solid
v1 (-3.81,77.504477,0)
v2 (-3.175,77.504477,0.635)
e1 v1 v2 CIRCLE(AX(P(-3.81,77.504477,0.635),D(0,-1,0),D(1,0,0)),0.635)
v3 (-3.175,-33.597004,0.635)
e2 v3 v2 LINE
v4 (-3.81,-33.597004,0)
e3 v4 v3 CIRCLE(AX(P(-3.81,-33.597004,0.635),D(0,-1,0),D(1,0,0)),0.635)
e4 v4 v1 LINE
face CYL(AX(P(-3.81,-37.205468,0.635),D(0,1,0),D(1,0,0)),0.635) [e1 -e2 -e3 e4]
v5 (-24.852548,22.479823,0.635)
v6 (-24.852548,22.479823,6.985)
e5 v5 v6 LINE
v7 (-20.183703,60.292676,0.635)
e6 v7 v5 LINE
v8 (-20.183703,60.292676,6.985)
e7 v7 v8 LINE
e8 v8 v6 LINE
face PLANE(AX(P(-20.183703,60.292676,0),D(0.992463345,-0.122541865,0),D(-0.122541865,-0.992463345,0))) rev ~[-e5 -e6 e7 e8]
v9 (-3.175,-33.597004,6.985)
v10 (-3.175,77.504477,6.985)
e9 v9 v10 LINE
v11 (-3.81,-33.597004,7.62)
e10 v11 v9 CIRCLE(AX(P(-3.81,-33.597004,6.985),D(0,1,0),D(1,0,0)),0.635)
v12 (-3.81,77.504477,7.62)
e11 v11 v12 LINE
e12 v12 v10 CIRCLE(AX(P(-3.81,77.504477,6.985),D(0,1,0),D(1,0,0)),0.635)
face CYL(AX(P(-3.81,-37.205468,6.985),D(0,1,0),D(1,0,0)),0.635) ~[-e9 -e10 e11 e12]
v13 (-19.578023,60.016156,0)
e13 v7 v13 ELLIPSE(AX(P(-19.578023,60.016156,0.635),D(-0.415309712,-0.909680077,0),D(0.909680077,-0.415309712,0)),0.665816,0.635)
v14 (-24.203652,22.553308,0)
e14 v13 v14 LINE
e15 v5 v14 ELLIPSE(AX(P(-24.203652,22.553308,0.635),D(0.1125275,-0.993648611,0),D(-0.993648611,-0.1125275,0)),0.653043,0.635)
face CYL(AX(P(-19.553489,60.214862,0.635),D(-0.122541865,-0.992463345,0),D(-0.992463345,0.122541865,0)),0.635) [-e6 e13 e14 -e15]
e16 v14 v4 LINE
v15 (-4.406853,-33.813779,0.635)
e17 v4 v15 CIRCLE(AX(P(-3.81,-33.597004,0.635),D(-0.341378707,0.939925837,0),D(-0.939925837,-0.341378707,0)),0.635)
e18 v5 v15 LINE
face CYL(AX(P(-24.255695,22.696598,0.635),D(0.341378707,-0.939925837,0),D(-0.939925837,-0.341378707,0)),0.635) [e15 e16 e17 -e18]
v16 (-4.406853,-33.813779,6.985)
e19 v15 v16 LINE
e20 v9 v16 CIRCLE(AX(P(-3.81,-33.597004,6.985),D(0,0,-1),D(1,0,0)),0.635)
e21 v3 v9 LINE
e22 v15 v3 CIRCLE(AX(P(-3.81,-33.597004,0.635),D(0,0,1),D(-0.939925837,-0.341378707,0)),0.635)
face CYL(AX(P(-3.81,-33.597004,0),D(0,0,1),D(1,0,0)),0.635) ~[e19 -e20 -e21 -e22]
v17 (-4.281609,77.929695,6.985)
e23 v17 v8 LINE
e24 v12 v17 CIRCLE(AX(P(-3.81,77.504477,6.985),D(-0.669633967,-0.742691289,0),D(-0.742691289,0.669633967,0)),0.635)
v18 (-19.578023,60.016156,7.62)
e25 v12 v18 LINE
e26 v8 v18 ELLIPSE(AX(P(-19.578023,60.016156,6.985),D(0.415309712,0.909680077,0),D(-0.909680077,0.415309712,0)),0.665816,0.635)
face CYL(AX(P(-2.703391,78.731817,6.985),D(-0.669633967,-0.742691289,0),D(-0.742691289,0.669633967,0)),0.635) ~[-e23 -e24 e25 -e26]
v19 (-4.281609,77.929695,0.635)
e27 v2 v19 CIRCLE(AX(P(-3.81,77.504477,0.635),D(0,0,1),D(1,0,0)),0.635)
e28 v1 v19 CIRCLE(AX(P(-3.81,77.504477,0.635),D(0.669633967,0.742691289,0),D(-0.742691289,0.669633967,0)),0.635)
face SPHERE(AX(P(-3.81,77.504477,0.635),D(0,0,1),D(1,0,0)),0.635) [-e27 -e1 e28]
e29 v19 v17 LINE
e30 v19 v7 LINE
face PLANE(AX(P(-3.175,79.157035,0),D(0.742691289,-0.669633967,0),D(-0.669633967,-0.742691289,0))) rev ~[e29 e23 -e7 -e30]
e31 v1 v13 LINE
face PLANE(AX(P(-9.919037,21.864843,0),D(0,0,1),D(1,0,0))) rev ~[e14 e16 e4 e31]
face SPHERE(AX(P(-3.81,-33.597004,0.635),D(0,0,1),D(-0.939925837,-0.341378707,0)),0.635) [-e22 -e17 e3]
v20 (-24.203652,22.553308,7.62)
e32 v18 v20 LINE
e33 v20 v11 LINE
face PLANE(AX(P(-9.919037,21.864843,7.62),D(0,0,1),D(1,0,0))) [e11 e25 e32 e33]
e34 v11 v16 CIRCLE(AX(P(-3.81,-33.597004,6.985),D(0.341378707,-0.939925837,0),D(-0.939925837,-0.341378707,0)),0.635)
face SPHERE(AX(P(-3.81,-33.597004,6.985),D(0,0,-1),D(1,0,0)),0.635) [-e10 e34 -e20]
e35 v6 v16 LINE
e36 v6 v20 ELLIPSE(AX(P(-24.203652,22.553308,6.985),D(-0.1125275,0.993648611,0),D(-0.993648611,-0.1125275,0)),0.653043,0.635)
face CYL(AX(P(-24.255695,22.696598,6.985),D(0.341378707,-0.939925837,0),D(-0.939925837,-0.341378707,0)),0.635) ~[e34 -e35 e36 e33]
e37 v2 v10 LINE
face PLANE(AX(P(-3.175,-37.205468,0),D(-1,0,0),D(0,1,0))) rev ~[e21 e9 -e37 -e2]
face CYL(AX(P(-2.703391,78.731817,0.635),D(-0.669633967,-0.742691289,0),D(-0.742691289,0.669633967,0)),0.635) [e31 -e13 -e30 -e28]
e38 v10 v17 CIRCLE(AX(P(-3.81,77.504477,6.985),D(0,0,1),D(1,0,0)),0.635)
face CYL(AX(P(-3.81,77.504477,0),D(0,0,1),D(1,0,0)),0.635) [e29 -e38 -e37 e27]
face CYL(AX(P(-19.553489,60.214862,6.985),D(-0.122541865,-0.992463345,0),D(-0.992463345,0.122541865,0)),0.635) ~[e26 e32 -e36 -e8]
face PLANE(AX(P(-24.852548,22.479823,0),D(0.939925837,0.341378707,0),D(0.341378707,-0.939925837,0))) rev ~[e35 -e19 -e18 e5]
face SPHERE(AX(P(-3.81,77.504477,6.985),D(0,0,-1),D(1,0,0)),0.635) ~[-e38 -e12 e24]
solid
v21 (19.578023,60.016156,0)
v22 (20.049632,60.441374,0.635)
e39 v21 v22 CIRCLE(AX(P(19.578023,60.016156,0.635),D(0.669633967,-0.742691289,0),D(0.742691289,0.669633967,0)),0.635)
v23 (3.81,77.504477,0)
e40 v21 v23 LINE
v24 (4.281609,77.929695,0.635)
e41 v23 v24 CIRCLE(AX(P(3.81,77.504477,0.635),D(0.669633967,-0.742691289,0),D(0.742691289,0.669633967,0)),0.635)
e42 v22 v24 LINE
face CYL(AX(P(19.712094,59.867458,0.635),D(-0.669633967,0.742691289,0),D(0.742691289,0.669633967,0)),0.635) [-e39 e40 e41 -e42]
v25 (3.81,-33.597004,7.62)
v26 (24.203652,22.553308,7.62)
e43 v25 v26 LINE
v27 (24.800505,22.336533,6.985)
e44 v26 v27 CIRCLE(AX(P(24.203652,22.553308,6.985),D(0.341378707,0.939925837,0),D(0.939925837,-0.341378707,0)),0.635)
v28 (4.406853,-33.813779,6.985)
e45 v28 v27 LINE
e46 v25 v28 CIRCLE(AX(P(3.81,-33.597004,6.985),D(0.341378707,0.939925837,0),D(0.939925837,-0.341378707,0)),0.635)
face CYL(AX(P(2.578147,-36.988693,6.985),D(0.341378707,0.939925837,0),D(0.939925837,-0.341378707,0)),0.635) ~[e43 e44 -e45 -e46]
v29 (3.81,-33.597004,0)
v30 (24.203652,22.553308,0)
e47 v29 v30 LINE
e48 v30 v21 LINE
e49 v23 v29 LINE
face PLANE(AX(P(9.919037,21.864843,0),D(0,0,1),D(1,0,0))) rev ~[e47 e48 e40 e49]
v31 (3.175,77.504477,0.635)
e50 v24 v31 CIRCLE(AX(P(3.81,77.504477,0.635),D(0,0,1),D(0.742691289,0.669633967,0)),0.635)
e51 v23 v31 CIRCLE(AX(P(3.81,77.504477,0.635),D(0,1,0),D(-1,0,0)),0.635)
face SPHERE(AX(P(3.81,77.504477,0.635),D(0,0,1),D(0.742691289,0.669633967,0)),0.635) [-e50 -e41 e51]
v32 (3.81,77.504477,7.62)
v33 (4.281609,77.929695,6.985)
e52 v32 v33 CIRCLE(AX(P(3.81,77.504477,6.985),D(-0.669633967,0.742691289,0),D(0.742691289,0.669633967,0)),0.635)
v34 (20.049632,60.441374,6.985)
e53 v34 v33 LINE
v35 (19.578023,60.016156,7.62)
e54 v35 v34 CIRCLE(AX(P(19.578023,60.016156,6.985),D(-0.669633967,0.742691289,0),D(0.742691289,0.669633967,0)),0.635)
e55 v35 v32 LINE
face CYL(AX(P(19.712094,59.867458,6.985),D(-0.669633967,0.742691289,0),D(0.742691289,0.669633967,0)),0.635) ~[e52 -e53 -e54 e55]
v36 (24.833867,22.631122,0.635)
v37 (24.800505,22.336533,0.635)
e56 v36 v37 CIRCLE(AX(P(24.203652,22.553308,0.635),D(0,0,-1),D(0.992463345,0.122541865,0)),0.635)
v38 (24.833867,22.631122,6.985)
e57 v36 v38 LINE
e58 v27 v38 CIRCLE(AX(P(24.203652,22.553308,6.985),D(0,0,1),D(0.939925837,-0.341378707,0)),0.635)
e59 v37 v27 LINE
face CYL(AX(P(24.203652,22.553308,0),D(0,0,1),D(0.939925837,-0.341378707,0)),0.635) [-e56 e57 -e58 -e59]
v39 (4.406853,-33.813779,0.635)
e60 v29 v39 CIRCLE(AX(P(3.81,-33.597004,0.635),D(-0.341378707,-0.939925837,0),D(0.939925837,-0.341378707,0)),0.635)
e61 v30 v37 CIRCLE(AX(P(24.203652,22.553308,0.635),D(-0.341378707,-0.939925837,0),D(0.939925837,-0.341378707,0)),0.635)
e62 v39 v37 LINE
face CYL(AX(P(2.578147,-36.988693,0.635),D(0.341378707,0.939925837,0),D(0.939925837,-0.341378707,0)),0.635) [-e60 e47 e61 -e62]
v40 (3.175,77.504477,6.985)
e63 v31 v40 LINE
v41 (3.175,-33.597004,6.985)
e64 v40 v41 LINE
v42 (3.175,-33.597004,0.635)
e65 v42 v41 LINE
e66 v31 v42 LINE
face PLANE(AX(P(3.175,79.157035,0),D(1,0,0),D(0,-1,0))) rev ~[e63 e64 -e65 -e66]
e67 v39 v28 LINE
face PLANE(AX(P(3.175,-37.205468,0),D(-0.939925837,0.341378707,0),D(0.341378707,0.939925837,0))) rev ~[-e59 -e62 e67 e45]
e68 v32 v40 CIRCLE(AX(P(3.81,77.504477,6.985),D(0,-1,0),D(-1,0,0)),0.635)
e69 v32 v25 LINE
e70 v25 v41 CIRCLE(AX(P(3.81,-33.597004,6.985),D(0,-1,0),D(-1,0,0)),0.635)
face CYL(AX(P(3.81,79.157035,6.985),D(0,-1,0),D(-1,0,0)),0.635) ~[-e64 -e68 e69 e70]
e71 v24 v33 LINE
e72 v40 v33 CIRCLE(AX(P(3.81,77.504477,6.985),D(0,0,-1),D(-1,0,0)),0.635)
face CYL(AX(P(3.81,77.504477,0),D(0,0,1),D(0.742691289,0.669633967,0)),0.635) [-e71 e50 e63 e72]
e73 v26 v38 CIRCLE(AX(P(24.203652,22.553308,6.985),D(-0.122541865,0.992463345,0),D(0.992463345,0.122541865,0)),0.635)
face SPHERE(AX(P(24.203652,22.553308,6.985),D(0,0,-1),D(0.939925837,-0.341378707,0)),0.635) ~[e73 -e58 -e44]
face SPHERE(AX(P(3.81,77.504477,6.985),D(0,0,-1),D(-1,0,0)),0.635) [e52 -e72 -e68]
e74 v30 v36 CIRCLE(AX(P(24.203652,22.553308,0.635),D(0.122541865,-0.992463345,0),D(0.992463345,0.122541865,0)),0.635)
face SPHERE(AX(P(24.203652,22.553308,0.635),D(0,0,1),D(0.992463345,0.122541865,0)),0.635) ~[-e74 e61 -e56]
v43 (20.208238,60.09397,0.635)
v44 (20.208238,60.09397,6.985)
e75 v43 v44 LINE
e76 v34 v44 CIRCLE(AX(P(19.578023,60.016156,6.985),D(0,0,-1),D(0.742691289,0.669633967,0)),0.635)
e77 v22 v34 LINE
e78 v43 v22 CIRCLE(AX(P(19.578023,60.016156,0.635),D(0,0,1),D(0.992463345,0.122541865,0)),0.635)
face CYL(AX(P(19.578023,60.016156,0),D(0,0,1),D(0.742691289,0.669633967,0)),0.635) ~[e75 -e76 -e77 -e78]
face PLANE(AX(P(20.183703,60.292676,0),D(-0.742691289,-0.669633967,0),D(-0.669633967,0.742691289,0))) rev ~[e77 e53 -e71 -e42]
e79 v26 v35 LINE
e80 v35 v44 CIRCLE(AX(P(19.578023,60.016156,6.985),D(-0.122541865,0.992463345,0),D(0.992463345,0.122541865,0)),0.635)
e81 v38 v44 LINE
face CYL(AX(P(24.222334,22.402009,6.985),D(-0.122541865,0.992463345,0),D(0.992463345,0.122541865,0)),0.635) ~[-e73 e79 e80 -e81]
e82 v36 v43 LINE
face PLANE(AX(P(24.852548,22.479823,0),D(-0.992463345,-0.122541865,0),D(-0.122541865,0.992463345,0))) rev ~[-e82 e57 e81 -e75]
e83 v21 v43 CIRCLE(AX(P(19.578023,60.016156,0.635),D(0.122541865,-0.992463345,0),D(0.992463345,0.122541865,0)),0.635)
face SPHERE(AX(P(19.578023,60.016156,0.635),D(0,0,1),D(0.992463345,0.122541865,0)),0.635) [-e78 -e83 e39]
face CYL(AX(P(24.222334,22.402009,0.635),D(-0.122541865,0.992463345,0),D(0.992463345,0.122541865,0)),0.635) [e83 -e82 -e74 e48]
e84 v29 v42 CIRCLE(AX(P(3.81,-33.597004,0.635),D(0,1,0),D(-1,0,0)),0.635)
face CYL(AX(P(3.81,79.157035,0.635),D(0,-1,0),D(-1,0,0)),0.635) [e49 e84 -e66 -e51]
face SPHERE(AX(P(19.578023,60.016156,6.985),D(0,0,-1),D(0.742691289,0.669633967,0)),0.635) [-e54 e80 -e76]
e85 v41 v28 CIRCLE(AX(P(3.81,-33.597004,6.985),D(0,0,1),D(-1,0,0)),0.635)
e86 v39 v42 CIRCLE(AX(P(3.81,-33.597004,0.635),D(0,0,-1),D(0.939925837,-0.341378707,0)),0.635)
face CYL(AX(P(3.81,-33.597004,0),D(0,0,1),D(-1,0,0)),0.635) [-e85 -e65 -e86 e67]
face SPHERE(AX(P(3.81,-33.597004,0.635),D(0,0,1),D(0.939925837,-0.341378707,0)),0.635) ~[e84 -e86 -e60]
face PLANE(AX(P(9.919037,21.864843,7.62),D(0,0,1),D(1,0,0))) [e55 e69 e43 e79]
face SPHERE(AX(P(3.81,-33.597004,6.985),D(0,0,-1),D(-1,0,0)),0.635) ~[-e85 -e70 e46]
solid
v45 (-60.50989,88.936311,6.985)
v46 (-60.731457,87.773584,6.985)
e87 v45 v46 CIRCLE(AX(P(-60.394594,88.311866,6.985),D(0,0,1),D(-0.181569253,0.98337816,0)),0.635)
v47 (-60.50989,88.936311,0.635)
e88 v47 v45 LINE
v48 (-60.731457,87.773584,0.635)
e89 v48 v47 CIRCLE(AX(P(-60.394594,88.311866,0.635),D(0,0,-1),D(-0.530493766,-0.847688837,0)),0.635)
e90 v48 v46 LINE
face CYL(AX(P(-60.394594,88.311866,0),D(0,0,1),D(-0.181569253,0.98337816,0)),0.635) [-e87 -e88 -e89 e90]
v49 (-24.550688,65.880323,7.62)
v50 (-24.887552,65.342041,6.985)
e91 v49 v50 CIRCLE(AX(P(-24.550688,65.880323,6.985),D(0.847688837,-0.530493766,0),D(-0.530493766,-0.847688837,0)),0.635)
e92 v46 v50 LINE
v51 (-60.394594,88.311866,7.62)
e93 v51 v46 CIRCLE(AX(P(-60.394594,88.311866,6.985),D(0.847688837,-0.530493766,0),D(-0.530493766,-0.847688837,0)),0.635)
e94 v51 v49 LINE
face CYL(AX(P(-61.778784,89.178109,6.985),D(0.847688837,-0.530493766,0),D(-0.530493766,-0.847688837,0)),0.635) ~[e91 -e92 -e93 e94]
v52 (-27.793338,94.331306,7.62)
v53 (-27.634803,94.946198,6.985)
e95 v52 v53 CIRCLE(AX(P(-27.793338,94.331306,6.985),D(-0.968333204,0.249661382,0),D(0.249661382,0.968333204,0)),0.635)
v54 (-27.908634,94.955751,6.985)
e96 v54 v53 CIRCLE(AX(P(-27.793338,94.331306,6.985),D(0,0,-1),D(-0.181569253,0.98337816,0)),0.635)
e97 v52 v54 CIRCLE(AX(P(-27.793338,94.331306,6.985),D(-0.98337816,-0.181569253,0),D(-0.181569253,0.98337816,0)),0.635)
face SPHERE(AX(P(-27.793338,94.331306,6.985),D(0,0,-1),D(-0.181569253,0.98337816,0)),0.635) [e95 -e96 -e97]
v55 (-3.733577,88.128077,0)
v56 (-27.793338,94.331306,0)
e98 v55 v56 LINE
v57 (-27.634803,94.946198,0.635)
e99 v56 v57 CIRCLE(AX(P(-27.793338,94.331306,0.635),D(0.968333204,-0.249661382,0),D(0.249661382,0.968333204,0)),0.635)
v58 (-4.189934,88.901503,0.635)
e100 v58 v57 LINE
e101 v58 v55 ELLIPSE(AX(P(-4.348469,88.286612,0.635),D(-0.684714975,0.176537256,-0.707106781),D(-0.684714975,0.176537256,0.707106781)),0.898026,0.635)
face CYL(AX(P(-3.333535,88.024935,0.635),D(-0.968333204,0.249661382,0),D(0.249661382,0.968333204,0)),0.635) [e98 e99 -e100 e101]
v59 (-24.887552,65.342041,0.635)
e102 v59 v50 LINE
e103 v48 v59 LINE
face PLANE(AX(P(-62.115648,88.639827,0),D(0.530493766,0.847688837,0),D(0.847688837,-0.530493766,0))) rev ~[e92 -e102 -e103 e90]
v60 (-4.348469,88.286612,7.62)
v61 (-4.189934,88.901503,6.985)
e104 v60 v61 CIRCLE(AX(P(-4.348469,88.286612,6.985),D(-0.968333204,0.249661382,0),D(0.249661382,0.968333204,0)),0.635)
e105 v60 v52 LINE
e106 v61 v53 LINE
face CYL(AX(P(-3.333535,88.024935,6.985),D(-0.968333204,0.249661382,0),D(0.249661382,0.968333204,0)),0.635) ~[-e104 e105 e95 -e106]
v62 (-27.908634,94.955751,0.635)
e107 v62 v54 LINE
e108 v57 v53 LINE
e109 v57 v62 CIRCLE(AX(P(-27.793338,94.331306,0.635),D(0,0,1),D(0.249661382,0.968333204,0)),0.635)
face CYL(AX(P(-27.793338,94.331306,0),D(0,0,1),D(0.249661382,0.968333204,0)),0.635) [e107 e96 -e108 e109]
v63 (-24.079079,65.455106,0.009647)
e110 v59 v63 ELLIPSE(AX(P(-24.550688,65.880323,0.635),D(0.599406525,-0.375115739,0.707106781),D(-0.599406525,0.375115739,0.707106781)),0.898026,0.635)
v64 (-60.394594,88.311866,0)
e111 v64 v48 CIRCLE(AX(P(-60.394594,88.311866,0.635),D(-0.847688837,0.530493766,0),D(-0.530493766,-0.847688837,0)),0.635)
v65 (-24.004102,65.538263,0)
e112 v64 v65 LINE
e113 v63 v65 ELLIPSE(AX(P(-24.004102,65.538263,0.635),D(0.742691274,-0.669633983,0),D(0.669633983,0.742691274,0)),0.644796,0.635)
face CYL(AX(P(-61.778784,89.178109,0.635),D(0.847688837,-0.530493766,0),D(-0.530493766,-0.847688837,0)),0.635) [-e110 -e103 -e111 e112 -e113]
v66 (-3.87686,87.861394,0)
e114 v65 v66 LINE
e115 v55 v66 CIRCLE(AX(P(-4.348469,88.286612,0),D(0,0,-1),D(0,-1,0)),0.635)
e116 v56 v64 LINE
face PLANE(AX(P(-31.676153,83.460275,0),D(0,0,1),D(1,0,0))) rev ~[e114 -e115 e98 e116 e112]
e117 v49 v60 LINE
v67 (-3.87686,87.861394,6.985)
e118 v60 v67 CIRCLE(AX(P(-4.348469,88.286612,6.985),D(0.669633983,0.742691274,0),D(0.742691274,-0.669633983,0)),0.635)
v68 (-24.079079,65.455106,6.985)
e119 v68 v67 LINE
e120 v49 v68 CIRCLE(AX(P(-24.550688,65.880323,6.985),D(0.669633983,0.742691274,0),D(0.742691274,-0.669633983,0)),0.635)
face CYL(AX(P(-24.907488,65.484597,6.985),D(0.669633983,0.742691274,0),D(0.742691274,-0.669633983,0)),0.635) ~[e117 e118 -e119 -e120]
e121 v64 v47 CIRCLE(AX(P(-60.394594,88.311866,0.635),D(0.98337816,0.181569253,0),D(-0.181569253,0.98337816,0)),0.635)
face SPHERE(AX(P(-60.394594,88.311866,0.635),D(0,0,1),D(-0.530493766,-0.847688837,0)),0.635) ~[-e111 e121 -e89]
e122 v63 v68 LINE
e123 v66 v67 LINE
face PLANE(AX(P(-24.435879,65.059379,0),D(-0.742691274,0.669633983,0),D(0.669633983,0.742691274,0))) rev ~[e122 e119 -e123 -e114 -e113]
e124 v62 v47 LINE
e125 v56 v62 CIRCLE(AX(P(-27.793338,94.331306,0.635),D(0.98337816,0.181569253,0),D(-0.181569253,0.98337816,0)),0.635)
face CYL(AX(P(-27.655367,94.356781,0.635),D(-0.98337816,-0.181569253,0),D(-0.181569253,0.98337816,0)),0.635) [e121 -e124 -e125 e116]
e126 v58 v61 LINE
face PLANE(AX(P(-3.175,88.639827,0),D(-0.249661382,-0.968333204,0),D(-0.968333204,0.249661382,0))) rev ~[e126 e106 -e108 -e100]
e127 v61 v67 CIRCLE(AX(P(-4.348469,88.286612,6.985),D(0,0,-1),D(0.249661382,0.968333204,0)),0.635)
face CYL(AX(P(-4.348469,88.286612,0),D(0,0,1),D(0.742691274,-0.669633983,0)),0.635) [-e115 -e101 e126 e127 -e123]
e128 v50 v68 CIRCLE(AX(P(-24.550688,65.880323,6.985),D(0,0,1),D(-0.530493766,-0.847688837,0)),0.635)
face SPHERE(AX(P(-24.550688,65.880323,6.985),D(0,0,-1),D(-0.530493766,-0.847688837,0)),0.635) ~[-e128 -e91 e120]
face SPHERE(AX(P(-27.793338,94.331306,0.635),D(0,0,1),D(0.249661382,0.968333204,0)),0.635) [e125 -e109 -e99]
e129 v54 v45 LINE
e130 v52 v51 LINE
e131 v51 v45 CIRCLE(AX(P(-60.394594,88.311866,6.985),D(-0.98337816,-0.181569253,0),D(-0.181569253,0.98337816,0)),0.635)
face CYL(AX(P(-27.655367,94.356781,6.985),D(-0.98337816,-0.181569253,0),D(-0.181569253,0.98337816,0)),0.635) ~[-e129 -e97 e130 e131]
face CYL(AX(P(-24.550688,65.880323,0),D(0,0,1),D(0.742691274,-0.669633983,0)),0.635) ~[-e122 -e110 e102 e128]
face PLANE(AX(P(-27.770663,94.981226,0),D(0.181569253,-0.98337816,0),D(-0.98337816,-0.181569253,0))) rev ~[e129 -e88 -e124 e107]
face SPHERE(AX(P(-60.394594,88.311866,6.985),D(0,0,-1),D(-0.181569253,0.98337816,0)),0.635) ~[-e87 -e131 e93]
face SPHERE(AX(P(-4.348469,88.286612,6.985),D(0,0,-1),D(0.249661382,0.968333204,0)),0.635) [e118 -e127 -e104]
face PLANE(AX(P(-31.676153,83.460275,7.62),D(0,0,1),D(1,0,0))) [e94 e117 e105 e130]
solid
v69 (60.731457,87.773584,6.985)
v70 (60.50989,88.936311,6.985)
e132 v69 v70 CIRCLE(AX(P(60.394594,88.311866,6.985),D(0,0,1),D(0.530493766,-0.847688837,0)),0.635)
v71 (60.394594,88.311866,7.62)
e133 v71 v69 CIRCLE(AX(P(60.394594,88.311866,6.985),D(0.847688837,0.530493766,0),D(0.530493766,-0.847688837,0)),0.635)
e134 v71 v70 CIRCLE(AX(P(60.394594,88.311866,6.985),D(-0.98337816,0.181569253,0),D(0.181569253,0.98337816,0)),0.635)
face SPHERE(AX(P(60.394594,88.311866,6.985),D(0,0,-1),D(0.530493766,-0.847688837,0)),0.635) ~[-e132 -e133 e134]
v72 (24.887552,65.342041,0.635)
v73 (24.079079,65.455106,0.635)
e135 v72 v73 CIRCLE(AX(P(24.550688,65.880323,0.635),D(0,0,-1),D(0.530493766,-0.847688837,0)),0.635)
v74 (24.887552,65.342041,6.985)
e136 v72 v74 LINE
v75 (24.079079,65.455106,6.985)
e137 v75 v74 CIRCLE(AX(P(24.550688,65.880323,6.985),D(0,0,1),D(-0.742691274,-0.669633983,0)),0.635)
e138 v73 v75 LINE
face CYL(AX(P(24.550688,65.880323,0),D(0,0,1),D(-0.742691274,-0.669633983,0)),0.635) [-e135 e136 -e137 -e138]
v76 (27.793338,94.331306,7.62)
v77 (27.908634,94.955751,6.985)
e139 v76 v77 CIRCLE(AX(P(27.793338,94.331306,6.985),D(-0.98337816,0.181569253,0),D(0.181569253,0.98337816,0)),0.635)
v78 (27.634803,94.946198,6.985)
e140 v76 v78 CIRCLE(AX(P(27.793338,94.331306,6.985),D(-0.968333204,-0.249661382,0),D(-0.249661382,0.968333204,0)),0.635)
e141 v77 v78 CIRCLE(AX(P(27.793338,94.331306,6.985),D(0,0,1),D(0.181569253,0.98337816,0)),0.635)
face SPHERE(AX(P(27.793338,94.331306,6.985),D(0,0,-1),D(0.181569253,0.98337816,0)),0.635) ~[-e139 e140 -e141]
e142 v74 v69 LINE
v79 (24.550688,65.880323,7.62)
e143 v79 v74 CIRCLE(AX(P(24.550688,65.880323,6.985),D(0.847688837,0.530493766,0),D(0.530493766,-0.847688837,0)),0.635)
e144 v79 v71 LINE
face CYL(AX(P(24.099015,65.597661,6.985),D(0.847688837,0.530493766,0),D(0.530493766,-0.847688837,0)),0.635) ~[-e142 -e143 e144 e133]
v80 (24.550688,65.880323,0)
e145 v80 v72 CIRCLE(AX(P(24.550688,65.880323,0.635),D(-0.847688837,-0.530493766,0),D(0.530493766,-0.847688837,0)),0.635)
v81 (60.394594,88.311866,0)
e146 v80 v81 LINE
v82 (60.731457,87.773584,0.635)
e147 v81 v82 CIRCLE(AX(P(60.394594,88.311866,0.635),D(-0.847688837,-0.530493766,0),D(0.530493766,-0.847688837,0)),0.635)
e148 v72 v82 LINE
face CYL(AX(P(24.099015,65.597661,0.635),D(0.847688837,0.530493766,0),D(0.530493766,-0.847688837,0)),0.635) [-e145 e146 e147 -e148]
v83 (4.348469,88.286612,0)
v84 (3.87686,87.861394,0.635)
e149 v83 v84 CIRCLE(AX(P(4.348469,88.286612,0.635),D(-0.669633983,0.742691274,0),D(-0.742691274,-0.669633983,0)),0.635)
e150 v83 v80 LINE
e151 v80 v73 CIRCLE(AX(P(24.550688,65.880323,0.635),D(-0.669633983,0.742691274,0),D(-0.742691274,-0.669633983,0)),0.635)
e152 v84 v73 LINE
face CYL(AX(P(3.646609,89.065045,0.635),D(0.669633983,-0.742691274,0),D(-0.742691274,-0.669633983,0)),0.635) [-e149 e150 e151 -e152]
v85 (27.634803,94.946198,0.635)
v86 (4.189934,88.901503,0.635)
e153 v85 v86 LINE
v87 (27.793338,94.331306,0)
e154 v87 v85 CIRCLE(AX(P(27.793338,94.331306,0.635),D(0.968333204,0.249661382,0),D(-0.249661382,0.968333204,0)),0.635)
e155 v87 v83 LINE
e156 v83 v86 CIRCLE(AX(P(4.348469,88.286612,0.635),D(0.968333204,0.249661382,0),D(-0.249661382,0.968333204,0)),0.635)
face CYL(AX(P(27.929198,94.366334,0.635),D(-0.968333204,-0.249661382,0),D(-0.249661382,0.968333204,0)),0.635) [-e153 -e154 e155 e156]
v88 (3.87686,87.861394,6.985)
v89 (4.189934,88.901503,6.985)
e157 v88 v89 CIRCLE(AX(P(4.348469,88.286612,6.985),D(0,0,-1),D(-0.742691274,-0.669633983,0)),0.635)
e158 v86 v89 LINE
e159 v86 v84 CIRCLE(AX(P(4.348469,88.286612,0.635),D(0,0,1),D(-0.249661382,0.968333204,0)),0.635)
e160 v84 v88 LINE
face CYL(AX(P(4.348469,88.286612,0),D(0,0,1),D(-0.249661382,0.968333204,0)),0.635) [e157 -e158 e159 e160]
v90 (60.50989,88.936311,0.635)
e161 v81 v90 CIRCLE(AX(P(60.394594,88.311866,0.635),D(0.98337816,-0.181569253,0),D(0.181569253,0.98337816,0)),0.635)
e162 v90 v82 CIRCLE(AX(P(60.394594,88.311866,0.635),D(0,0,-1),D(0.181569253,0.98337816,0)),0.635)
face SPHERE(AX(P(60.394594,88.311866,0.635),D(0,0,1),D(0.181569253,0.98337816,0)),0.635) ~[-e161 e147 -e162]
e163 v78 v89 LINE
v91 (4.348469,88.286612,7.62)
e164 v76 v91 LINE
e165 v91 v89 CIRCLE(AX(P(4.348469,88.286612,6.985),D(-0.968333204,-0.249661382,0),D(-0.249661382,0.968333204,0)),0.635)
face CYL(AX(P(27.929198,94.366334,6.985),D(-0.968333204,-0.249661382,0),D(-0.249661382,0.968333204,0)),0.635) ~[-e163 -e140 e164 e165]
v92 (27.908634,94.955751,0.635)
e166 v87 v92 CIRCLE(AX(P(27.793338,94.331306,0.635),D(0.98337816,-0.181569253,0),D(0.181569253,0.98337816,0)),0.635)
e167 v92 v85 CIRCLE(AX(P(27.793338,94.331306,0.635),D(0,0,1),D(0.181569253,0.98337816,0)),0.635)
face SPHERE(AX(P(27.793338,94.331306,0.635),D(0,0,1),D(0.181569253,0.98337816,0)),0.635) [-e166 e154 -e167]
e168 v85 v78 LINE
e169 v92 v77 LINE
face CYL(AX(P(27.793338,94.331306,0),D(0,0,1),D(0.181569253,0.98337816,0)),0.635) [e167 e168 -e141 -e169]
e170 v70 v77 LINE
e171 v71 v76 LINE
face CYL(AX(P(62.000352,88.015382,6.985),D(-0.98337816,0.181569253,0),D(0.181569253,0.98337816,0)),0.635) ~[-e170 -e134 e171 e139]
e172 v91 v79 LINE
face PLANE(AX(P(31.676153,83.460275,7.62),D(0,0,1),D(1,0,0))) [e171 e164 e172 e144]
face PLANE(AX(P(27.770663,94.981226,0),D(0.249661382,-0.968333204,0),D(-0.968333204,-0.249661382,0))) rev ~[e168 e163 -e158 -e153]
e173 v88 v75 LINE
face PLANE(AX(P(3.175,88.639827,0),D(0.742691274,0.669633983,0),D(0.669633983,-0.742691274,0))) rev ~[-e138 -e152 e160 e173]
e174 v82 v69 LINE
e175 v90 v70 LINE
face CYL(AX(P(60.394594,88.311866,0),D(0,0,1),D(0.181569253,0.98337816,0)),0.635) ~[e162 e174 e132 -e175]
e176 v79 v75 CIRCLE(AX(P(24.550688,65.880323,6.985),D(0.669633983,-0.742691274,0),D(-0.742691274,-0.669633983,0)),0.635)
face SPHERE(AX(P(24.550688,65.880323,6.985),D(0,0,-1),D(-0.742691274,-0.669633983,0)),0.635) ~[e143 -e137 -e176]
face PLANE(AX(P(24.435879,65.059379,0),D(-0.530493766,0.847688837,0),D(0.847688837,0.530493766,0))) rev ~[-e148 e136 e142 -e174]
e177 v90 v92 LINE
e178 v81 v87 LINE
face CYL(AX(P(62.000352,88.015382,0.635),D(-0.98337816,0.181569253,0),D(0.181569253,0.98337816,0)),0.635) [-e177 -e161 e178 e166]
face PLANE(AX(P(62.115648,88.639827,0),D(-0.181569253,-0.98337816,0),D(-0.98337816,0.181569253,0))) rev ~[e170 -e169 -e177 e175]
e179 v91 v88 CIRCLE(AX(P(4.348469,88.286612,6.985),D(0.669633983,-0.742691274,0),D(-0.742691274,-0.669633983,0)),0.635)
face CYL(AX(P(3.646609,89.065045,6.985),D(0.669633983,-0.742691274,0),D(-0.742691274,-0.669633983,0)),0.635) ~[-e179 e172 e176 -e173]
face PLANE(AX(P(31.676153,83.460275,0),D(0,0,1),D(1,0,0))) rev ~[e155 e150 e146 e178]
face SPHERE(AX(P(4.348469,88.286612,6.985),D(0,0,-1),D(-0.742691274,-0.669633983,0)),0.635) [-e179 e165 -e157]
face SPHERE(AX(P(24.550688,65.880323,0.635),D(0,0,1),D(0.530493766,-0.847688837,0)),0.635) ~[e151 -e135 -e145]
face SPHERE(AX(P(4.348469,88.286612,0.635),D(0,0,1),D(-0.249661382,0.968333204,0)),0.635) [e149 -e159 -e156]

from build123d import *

# Parameters (mm, degrees)
F1_DEPTH = 7.62
F2_R     = 0.635


with BuildPart() as f1:
    # F0 (on Top) → F1 (new body)
    with BuildSketch(Plane.XY):
        Polygon((20.183703, 60.292676), (3.175, 79.157035), (3.175, -37.205468), (24.852548, 22.479823), align=None)
        Polygon((-24.435879, 65.059379), (-3.175, 88.639827), (-27.770663, 94.981226), (-62.115648, 88.639827), align=None)
        Polygon((-3.175, -37.205468), (-3.175, 79.157035), (-20.183703, 60.292676), (-24.852548, 22.479823), align=None)
        Polygon((62.115648, 88.639827), (27.770663, 94.981226), (3.175, 88.639827), (24.435879, 65.059379), align=None)
    extrude(amount=F1_DEPTH)

    # F2
    f2_edges = [f1.edges().sort_by_distance(p)[0] for p in [
        (3.175, -37.205468, 3.81),
        (-3.175, -37.205468, 3.81),
        (20.183703, 60.292676, 3.81),
        (24.852548, 22.479823, 3.81),
        (-3.175, 79.157035, 3.81),
        (-43.275764, 76.849603, 7.62),
        (-62.115648, 88.639827, 3.81),
        (-43.275764, 76.849603, 0),
        (-44.943156, 91.810526, 7.62),
        (-15.472832, 91.810526, 7.62),
        (-13.80544, 76.849603, 7.62),
        (-3.175, 88.639827, 3.81),
        (-27.770663, 94.981226, 3.81),
        (-15.472832, 91.810526, 0),
        (-44.943156, 91.810526, 0),
        (13.80544, 76.849603, 7.62),
        (11.679352, 69.724856, 7.62),
        (3.175, 79.157035, 3.81),
        (-3.175, 20.975783, 7.62),
        (-11.679352, 69.724856, 7.62),
        (-22.518126, 41.38625, 7.62),
        (-14.013774, -7.362822, 7.62),
        (3.175, 20.975783, 7.62),
        (14.013774, -7.362822, 7.62),
        (22.518126, 41.38625, 0),
        (22.518126, 41.38625, 7.62),
        (14.013774, -7.362822, 0),
        (43.275764, 76.849603, 7.62),
        (44.943156, 91.810526, 7.62),
        (15.472832, 91.810526, 7.62),
        (15.472832, 91.810526, 0),
        (62.115648, 88.639827, 3.81),
        (27.770663, 94.981226, 3.81),
        (44.943156, 91.810526, 0),
        (24.435879, 65.059379, 3.81),
        (43.275764, 76.849603, 0),
        (13.80544, 76.849603, 0),
        (3.175, 88.639827, 3.81),
        (-24.435879, 65.059379, 3.81),
        (-22.518126, 41.38625, 0),
        (-14.013774, -7.362822, 0),
        (-3.175, 20.975783, 0),
        (-11.679352, 69.724856, 0),
        (11.679352, 69.724856, 0),
        (3.175, 20.975783, 0),
    ]]
    fillet(f2_edges, radius=F2_R)


solid = f1.part
